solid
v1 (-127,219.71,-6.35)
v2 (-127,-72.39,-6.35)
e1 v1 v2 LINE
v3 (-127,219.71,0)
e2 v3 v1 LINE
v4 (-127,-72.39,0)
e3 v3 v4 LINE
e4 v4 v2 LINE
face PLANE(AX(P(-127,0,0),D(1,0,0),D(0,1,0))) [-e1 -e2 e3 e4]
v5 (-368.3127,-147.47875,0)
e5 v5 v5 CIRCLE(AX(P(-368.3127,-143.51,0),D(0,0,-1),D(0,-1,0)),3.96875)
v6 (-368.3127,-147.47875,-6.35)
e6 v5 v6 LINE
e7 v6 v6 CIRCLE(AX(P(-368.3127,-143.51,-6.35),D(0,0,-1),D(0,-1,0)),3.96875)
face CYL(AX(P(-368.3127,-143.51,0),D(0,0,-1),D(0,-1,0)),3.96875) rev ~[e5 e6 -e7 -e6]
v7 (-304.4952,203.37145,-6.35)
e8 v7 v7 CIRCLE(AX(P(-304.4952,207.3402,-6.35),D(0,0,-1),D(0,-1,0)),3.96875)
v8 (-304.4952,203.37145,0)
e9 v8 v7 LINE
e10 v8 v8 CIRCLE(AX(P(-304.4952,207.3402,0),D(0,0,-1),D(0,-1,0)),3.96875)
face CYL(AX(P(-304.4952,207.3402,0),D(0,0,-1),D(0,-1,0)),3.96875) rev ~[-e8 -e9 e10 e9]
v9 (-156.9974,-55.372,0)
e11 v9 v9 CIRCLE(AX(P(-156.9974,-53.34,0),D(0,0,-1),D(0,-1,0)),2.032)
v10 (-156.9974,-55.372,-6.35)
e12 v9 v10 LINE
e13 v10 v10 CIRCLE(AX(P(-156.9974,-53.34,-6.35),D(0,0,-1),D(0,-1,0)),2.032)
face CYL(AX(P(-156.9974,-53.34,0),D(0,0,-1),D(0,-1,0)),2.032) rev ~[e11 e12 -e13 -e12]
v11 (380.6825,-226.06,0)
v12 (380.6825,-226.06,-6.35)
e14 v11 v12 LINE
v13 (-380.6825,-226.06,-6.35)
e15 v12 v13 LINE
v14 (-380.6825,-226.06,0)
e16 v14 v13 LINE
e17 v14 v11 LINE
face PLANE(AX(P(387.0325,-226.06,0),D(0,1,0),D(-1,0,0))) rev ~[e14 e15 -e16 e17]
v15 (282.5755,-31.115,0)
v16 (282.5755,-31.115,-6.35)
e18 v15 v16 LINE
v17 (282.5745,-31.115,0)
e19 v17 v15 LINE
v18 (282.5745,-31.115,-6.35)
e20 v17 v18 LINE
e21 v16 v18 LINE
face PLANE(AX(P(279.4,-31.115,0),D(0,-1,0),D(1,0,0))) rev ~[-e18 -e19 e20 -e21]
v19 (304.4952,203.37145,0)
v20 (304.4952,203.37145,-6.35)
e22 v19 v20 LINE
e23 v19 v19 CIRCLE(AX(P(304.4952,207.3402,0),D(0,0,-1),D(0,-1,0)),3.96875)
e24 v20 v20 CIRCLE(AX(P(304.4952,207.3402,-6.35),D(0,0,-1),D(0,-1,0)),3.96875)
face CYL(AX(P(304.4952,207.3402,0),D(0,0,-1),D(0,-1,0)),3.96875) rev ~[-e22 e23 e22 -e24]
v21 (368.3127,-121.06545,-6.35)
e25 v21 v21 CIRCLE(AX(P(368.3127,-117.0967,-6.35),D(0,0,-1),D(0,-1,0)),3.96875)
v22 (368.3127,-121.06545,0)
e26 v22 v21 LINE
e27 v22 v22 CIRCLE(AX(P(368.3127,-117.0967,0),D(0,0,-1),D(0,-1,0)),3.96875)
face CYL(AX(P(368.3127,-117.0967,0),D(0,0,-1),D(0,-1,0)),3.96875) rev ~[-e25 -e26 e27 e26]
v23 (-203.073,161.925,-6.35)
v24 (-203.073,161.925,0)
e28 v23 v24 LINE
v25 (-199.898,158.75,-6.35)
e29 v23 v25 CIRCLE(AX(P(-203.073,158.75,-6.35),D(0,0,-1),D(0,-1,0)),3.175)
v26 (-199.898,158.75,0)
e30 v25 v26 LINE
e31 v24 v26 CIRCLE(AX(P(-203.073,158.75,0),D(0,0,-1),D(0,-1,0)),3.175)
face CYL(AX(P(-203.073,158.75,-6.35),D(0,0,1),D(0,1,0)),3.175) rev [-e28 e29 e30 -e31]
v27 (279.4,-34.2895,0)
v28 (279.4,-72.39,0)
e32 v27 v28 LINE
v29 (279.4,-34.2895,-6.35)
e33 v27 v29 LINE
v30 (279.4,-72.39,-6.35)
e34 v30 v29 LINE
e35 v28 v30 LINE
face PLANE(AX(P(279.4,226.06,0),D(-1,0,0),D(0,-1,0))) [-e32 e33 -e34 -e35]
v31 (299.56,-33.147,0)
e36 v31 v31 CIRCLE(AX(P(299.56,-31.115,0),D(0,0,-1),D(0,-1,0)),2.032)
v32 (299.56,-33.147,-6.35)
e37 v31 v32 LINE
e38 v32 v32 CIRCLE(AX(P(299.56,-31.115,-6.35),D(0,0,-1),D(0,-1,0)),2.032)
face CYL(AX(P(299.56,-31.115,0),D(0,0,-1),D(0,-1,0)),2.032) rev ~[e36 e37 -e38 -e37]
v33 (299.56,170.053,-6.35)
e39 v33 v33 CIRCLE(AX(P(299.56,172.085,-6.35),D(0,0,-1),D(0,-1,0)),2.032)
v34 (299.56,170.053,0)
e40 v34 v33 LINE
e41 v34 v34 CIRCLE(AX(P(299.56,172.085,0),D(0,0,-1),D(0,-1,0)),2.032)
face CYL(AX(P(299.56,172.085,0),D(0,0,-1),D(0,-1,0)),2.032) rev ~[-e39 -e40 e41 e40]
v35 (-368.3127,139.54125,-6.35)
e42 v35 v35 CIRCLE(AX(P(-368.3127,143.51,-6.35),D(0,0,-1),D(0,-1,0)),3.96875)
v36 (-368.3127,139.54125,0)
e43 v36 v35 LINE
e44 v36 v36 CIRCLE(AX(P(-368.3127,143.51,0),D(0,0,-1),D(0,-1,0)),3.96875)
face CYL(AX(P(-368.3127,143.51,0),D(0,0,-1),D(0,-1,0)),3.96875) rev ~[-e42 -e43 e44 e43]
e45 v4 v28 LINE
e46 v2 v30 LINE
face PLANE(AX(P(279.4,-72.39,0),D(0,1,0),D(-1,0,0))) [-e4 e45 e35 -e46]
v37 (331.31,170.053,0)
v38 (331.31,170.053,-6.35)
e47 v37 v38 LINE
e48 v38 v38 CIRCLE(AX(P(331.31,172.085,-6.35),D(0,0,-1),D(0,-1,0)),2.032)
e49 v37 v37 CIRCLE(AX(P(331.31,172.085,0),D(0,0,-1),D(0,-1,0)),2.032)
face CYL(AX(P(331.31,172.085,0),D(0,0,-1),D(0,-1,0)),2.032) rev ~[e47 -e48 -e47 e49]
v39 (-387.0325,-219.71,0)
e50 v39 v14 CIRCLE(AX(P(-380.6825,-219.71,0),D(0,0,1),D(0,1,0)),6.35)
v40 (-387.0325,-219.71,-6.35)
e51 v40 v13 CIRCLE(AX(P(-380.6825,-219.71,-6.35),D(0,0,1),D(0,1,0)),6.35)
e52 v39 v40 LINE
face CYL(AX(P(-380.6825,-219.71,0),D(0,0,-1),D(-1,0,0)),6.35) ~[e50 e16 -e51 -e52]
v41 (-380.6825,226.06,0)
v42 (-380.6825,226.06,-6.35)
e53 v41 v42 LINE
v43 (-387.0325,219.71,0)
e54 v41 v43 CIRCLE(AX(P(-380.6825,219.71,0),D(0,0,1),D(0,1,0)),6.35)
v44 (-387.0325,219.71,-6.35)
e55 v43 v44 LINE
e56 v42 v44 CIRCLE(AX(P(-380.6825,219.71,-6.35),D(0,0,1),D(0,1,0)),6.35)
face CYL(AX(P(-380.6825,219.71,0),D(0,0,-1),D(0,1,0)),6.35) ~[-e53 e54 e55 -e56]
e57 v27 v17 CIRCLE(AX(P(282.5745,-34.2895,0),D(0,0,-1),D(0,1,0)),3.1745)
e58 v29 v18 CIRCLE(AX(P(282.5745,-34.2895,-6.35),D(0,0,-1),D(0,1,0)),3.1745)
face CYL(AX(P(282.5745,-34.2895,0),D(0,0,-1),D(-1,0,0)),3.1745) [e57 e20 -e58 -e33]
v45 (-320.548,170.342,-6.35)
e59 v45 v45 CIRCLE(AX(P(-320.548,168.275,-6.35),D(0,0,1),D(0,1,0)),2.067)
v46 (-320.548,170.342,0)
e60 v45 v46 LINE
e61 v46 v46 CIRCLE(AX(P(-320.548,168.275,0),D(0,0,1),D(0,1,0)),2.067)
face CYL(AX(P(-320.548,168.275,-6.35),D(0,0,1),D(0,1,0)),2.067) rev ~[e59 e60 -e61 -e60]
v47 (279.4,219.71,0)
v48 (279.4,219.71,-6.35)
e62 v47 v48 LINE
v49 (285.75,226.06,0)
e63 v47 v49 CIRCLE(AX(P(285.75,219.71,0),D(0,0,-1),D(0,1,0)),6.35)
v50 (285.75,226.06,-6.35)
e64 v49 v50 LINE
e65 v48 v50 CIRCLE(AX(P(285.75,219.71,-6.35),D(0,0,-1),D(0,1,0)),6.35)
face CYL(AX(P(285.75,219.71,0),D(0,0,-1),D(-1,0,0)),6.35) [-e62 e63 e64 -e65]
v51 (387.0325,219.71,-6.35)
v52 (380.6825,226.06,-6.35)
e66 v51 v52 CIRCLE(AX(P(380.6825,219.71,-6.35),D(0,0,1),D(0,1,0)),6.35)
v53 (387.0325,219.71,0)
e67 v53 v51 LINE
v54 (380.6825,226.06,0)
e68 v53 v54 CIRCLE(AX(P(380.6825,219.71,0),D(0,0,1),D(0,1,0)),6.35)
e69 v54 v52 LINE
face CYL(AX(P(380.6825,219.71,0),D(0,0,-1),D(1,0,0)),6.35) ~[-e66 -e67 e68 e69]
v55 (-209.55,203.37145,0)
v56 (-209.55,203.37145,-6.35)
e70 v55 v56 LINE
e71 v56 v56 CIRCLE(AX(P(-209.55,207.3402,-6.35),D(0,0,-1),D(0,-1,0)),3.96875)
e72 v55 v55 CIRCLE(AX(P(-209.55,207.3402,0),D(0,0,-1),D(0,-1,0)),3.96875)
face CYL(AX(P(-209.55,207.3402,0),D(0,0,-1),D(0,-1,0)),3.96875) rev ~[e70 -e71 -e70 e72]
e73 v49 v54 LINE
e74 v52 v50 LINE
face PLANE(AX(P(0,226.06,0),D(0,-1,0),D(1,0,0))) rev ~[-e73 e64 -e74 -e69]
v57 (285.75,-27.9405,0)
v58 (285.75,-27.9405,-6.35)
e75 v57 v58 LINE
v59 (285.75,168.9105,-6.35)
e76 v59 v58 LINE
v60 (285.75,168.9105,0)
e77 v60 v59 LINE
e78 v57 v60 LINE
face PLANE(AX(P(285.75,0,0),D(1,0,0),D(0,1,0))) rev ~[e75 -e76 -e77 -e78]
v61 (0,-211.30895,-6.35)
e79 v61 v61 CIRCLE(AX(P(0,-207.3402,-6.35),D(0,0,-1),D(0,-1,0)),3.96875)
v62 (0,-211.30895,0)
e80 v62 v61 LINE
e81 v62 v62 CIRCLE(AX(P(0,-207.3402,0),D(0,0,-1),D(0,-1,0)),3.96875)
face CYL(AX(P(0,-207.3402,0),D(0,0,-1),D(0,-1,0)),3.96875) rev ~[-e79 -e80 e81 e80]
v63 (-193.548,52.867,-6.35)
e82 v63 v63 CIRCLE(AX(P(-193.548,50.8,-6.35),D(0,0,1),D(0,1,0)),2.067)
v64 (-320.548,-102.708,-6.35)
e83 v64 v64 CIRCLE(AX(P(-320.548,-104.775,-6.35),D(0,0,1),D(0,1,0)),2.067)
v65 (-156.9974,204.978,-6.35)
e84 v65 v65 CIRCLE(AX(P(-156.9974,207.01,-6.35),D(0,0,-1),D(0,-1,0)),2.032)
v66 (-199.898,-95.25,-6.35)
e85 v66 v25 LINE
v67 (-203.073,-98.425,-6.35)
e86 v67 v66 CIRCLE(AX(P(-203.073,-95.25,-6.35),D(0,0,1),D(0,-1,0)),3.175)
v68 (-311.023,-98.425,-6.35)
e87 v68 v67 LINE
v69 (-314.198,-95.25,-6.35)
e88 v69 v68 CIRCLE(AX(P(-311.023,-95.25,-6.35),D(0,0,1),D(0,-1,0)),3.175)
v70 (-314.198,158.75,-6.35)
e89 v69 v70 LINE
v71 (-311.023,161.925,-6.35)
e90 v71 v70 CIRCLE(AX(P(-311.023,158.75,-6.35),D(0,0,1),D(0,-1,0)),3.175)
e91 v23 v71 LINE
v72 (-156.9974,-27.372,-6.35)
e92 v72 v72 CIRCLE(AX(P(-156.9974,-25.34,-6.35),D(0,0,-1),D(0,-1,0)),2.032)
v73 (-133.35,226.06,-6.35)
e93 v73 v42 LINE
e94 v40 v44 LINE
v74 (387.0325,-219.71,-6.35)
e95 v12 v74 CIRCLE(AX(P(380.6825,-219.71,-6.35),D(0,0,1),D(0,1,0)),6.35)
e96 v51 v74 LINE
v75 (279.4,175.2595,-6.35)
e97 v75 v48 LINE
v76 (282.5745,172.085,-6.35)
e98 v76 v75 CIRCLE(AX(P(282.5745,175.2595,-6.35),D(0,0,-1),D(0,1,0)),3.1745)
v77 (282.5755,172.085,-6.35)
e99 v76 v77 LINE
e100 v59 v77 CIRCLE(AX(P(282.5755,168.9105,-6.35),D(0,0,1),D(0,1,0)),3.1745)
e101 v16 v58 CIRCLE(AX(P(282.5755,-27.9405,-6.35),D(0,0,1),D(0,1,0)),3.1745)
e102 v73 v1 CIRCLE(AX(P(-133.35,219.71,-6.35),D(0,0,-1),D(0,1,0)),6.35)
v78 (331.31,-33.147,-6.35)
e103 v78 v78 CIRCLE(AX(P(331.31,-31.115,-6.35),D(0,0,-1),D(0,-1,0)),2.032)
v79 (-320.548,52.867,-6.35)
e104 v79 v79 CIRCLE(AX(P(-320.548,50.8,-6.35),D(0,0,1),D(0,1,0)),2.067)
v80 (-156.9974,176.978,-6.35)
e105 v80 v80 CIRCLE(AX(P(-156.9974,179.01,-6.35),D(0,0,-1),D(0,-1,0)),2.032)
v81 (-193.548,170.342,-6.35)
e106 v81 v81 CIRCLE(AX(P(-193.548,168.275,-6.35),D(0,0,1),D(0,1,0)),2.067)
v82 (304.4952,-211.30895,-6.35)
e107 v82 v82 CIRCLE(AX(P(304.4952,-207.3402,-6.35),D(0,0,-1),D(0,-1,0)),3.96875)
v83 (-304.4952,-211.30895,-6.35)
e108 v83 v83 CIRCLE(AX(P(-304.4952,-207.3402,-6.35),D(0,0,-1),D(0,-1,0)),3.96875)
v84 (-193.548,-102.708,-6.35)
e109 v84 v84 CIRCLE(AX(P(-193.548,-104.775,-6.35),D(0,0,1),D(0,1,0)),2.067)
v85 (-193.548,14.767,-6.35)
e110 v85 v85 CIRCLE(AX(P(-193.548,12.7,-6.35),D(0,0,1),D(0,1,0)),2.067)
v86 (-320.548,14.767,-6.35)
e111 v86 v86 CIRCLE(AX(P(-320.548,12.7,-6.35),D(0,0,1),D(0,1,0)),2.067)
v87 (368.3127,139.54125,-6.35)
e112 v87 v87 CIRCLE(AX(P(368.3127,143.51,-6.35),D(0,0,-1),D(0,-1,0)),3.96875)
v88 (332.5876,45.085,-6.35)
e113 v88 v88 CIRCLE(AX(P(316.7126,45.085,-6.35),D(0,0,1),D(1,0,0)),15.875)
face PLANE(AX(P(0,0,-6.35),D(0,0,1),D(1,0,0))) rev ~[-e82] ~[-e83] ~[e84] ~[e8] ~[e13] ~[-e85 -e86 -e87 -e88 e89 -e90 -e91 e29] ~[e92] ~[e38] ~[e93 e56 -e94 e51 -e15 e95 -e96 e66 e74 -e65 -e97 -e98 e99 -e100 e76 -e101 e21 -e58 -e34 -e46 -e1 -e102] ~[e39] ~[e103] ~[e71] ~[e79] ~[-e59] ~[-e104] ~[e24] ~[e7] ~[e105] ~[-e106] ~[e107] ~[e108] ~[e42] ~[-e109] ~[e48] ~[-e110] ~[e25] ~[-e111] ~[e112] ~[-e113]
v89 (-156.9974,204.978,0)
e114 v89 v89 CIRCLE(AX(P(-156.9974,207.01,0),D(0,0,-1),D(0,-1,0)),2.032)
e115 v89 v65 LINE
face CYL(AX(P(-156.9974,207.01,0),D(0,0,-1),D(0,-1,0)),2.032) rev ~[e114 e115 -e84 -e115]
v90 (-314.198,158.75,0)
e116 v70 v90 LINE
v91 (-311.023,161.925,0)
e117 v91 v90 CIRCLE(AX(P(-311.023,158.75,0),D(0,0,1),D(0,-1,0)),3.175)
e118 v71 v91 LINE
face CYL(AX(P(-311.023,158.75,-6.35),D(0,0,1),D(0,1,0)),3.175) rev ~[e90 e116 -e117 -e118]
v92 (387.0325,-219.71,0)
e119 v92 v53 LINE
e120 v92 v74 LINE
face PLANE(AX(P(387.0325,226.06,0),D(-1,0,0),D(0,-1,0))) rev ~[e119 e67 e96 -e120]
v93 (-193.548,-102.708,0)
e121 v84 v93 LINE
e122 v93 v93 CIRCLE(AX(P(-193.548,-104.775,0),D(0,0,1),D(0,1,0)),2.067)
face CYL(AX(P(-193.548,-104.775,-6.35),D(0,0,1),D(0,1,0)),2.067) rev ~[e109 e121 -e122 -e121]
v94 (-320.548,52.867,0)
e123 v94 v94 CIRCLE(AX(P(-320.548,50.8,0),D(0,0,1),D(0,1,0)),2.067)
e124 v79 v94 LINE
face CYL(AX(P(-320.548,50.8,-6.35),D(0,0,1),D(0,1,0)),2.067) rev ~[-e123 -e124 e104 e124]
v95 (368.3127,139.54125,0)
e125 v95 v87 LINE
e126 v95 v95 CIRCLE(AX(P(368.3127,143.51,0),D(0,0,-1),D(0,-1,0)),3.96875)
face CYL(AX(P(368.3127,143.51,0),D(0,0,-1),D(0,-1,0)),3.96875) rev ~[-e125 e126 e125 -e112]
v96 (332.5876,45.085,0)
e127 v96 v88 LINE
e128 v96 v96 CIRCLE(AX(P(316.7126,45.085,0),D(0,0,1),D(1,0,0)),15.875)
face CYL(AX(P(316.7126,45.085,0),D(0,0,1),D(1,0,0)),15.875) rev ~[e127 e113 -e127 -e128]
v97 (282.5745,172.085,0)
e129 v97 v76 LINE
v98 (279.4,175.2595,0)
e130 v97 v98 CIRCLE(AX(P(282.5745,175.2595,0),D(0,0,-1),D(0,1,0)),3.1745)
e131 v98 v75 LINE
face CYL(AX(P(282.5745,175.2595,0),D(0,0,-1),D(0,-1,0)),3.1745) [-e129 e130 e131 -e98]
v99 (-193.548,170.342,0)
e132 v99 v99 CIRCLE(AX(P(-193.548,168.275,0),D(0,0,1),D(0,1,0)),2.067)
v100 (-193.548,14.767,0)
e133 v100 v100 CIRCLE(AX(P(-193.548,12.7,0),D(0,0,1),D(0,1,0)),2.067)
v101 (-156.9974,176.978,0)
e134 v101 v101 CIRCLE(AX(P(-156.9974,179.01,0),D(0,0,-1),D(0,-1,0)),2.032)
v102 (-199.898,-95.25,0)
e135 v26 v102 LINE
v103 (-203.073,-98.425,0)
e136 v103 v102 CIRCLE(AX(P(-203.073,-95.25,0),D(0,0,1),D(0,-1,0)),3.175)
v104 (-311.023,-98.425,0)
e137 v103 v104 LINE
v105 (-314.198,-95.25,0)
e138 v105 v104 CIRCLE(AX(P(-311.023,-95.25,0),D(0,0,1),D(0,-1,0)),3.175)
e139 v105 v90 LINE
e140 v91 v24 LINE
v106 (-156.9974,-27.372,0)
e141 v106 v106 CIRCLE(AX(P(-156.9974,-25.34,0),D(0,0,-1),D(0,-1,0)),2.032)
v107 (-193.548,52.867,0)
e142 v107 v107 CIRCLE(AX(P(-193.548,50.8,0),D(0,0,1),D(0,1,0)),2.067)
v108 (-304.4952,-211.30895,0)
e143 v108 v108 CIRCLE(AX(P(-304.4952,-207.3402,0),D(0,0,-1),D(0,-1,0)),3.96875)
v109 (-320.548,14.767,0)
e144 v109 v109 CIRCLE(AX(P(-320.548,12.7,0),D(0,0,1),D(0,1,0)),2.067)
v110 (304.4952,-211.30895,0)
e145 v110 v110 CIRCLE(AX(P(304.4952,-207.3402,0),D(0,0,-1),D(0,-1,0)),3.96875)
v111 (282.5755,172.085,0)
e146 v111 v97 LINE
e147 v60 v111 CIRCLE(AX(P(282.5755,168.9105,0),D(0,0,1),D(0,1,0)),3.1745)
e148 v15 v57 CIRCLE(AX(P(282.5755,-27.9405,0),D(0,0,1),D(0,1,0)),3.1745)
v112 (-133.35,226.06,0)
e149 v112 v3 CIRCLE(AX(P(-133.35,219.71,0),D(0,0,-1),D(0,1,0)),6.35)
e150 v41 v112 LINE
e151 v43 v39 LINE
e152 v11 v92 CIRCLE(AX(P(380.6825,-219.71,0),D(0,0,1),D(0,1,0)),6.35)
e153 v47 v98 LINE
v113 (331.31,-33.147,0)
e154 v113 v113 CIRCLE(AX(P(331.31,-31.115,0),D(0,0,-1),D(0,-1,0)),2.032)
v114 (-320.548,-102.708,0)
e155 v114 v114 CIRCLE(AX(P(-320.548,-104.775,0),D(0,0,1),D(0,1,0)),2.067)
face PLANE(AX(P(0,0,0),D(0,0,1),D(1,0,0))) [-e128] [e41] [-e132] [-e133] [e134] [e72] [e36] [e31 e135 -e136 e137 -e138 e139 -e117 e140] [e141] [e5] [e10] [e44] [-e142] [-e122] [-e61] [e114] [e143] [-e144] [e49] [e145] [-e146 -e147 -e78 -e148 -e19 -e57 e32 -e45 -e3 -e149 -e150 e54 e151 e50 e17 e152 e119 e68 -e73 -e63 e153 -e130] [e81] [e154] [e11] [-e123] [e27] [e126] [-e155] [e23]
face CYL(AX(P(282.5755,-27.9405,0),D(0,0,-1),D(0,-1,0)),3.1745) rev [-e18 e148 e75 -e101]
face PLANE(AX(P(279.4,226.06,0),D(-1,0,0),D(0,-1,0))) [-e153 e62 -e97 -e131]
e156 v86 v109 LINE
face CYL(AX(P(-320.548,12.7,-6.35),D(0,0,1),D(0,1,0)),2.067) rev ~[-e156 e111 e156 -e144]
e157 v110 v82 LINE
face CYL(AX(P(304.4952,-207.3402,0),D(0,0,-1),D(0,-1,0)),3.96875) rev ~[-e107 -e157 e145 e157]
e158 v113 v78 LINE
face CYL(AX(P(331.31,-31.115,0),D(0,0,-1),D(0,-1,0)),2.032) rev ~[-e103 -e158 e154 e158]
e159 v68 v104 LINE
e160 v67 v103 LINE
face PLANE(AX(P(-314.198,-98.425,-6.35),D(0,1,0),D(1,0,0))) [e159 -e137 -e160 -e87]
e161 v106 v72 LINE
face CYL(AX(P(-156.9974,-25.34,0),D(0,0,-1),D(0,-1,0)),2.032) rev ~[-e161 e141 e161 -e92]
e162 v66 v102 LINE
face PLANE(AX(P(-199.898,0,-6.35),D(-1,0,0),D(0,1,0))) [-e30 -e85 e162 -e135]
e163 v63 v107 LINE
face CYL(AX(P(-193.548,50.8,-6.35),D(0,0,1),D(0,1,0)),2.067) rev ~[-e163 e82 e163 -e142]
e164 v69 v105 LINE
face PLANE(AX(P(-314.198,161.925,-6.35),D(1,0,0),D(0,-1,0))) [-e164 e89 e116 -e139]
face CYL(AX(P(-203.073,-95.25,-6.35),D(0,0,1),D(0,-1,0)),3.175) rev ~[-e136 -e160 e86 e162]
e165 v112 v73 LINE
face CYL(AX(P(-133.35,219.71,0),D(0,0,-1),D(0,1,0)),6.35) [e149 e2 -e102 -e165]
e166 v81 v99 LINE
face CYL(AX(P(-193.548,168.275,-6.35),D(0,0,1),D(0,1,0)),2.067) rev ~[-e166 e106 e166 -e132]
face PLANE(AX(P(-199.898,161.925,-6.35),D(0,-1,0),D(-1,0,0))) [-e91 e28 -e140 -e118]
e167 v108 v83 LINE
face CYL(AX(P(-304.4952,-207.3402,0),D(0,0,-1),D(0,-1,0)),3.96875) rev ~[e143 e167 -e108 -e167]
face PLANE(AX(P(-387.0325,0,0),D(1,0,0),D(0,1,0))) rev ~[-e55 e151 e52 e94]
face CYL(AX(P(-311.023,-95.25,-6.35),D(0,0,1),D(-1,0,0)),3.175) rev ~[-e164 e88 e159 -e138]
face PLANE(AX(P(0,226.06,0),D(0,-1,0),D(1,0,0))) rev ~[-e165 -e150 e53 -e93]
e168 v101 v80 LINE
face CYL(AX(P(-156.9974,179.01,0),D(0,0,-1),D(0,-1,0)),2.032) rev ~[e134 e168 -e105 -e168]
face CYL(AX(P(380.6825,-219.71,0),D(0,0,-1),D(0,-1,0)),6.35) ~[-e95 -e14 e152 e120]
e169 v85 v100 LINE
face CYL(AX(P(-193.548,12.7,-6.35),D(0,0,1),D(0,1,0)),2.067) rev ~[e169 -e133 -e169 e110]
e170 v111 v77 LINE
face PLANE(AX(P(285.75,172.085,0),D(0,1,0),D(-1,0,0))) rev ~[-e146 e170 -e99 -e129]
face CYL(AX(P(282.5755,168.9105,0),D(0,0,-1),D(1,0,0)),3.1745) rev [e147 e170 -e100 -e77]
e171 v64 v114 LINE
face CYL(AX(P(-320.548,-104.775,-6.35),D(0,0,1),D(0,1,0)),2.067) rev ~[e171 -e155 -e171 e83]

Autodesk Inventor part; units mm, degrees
ref_plane "YZ Plane" through (0, 0, 0) normal (1, 0, 0) x (0, 1, 0)
ref_plane "XZ Plane" through (0, 0, 0) normal (0, 1, 0) x (-1, 0, 0)
ref_plane "XY Plane" through (0, 0, 0) normal (0, 0, 1) x (1, 0, 0)
sketch "Sketch1" plane through (0, 0, 0) normal (0, 0, 1) x (1, 0, 0)
  line L0 (0, 316.484) -> (0, -316.484) projected
  line L1 (-541.8455, 0) -> (541.8455, 0) projected
  line L2 (387.0325, -226.06) -> (-387.0325, -226.06)
  line L3 (-387.0325, -226.06) -> (-387.0325, 226.06)
  line L4 (-387.0325, 226.06) -> (387.0325, 226.06)
  line L5 (387.0325, 226.06) -> (387.0325, -226.06)
  line L6 (387.0325, -226.06) -> (-387.0325, 226.06) construction
  line L7 (-387.0325, -226.06) -> (387.0325, 226.06) construction
  line L8 (368.3127, -207.3402) -> (-368.3127, -207.3402) construction
  line L9 (-368.3127, -207.3402) -> (-368.3127, 207.3402) construction
  line L10 (-368.3127, 207.3402) -> (368.3127, 207.3402) construction
  line L11 (368.3127, 207.3402) -> (368.3127, -207.3402) construction
  line L12 (368.3127, -207.3402) -> (-368.3127, 207.3402) construction
  line L13 (-368.3127, -207.3402) -> (368.3127, 207.3402) construction
  line L14 (279.4, -72.39) -> (-127, -72.39)
  line L15 (-127, -72.39) -> (-127, 226.06)
  line L16 (-127, 226.06) -> (279.4, 226.06)
  line L17 (279.4, 226.06) -> (279.4, -72.39)
  line L18 (279.4, -72.39) -> (-127, 226.06) construction
  line L19 (-127, -72.39) -> (279.4, 226.06) construction
  point P0 (0, 0)
  point P1 (-304.4952, 207.3402)
  point P2 (0, 207.3402)
  point P3 (304.4952, 207.3402)
  point P4 (-304.4952, -207.3402)
  point P5 (0, -207.3402)
  point P6 (304.4952, -207.3402)
  point P7 (-368.3127, 143.51)
  point P8 (-368.3127, -143.51)
  point P9 (368.3127, 143.51)
  point P10 (368.3127, -117.0967)
  point P11 (76.2, 76.835)
  point P12 (-209.55, 207.3402)
  dimension "d0" = 774.065
  dimension "d1" = 452.12
  dimension "d3" = 18.7198
  dimension "d4" = 18.7198
  dimension "d5" = 304.4952
  dimension "d6" = 304.4952
  dimension "d7" = 143.51
  dimension "d8" = 143.51
  dimension "d9" = 82.5373
  dimension "d10" = 82.55
  dimension "d20" = 76.2
  dimension "d23" = 406.4
  dimension "d26" = 0
  dimension "d27" = 298.45
  dimension "d28" = 82.55
  dimension "d42" = 774.065
  dimension "d43" = 452.12
extrude "Extrusion1" add sketch "Sketch1" against normal blind 6.35
hole "Hole1-M6 Clearance" at (-304.4952, 207.3402, 0) at (304.4952, 207.3402, 0) at (-304.4952, -207.3402, 0) at (0, -207.3402, 0) at (304.4952, -207.3402, 0) at (-368.3127, 143.51, 0) at (-368.3127, -143.51, 0) at (368.3127, 143.51, 0) at (368.3127, -117.0967, 0) at (-209.55, 207.3402, 0) direction (0, 0, -1) diameter 7.9375 end through all
extrude "Extrusion2" cut sketch "Sketch1" against normal up to next contours L4 L17 L1 L0 | L0 L1 L15 L4 | L1 L17 L14 L0 | L0 L14 L15 L1
sketch "Sketch3" plane through (0, 0, 0) normal (0, 0, 1) x (1, 0, 0)
  line L0 (0, 285.75) -> (0, -132.08) projected
  line L1 (-520.319, 0) -> (412.6865, 0) projected
  line L2 (-127, -72.39) -> (279.4, -72.39) projected
  line L3 (-387.0325, 226.06) -> (-127, 226.06) projected
  point P0 (0, 0)
  point P1 (-156.9974, -53.34)
  point P2 (-156.9974, -25.34)
  point P3 (-156.9974, 179.01)
  point P4 (-156.9974, 207.01)
  dimension "d29" = 28
  dimension "d30" = 28
  dimension "d31" = 156.9974
  dimension "d39" = 19.05
  dimension "d40" = 19.05
  dimension "d44" = 204.35
hole "Hole2-Tap M5" at (-156.9974, -53.34, 0) at (-156.9974, -25.34, 0) at (-156.9974, 179.01, 0) at (-156.9974, 207.01, 0) direction (0, 0, -1) diameter 4.064 end through all
fillet "Fillet1" radius 6.35 6 edges at (279.4, 226.06, -3.175) (-127, 226.06, -3.175) (-387.0325, 226.06, -3.175) (-387.0325, -226.06, -3.175) (387.0325, -226.06, -3.175) (387.0325, 226.06, -3.175)
sketch "Sketch4" plane through (0, 0, 0) normal (0, 0, 1) x (1, 0, 0)
  line L0 (0, 285.75) -> (0, -132.08) projected
  line L1 (-541.8455, 0) -> (541.8455, 0) projected
  line L2 (279.4, -72.39) -> (279.4, 219.71) construction
  line L3 (285.75, 172.085) -> (279.4, 172.085)
  line L4 (279.4, 172.085) -> (279.4, -31.115)
  line L5 (279.4, -31.115) -> (285.75, -31.115)
  line L6 (285.75, -31.115) -> (285.75, 172.085)
  line L7 (285.75, 172.085) -> (279.4, -31.115) construction
  line L8 (279.4, 172.085) -> (285.75, -31.115) construction
  line L9 (285.75, 226.06) -> (380.6825, 226.06) projected
  line L10 (-387.0325, 226.06) -> (387.0325, 226.06) projected
  line L11 (331.31, 172.085) -> (299.56, 172.085) construction
  line L12 (299.56, 172.085) -> (299.56, -31.115) construction
  line L13 (299.56, -31.115) -> (331.31, -31.115) construction
  line L14 (331.31, -31.115) -> (331.31, 172.085) construction
  line L15 (331.31, 172.085) -> (299.56, -31.115) construction
  line L16 (299.56, 172.085) -> (331.31, -31.115) construction
  circle A0 centre (316.7126, 45.085) radius 15.875
  point P0 (0, 0)
  point P1 (282.575, 70.485)
  point P2 (282.575, 70.485)
  point P3 (76.2, 76.835)
  point P4 (315.435, 70.485)
  dimension "d48" = 6.35
  dimension "d61" = 203.2
  dimension "d68" = 20.16
  dimension "d69" = 70.485
  dimension "d71" = 101.6
  dimension "d72" = 31.75
  dimension "d73" = 203.2
  dimension "d94" = 31.75
  dimension "d95" = 316.7126
  dimension "d96" = 45.085
extrude "Extrusion3" cut sketch "Sketch4" against normal up to next contours L4 L3 L6 L1 | L1 L6 L5 L4
hole "Hole3-Tap M5" at (299.56, -31.115, 0) at (299.56, 172.085, 0) at (331.31, -31.115, 0) at (331.31, 172.085, 0) direction (0, 0, -1) diameter 4.064 end through all
fillet "Fillet2" radius 3.175 4 edges at (279.4, -31.115, -3.175) (285.75, -31.115, -3.175) (285.75, 172.085, -3.175) (279.4, 172.085, -3.175)
sketch "Sketch5" plane through (0, 0, -6.35) normal (0, 0, -1) x (-1, 0, 0)
  line L0 (0, -316.484) -> (0, 316.484) projected
  line L1 (-541.8455, 0) -> (541.8455, 0) projected
  line L2 (199.898, 161.925) -> (314.198, 161.925)
  line L3 (314.198, 161.925) -> (314.198, -98.425)
  line L4 (314.198, -98.425) -> (199.898, -98.425)
  line L5 (199.898, -98.425) -> (199.898, 161.925)
  line L6 (199.898, 161.925) -> (314.198, -98.425) construction
  line L7 (314.198, 161.925) -> (199.898, -98.425) construction
  line L8 (368.3127, -207.3402) -> (368.3127, 207.3402) construction
  line L9 (387.0325, -219.71) -> (387.0325, 219.71) projected
  line L10 (127, 219.71) -> (127, -72.39) projected
  line L11 (193.548, 168.275) -> (320.548, 168.275) construction
  line L12 (320.548, 168.275) -> (320.548, -104.775) construction
  line L13 (320.548, -104.775) -> (193.548, -104.775) construction
  line L14 (193.548, -104.775) -> (193.548, 168.275) construction
  line L15 (193.548, 168.275) -> (320.548, -104.775) construction
  line L16 (320.548, 168.275) -> (193.548, -104.775) construction
  line L17 (320.548, 31.75) -> (193.548, 31.75) construction
  line L18 (193.548, 50.8) -> (320.548, 50.8) construction
  line L19 (320.548, 50.8) -> (320.548, 12.7) construction
  line L20 (320.548, 12.7) -> (193.548, 12.7) construction
  line L21 (193.548, 12.7) -> (193.548, 50.8) construction
  line L22 (193.548, 50.8) -> (320.548, 12.7) construction
  line L23 (320.548, 50.8) -> (193.548, 12.7) construction
  point P0 (0, 0)
  point P1 (257.048, 31.75)
  point P2 (304.4952, 207.3402)
  dimension "d74" = 114.3
  dimension "d75" = 260.35
  dimension "d76" = 257.048
  dimension "d77" = 31.75
  dimension "d78" = 45.4152
  dimension "d79" = 129.9845
  dimension "d80" = 130.048
  dimension "d81" = 6.35
  dimension "d82" = 6.35
  dimension "d83" = 19.05
hole "Hole4" at (-320.548, -104.775, -6.35) at (-193.548, -104.775, -6.35) at (-193.548, 12.7, -6.35) at (-193.548, 50.8, -6.35) at (-320.548, 50.8, -6.35) at (-320.548, 12.7, -6.35) at (-320.548, 168.275, -6.35) at (-193.548, 168.275, -6.35) direction (0, 0, 1) diameter 4.134 end through all thread size "M5x0.8" class "6H" standard "ANSI Metric M Profile"
extrude "Extrusion4" cut sketch "Sketch5" against normal through all
fillet "Fillet3" radius 3.175 4 edges at (-199.898, -98.425, -3.175) (-314.198, -98.425, -3.175) (-314.198, 161.925, -3.175) (-199.898, 161.925, -3.175)
extrude "Extrusion5" cut sketch "Sketch4" against normal through all contours A0
equation "\"d71\" = 0.5 * d61"
properties material "POLYCARBONATE, CLEAR"
